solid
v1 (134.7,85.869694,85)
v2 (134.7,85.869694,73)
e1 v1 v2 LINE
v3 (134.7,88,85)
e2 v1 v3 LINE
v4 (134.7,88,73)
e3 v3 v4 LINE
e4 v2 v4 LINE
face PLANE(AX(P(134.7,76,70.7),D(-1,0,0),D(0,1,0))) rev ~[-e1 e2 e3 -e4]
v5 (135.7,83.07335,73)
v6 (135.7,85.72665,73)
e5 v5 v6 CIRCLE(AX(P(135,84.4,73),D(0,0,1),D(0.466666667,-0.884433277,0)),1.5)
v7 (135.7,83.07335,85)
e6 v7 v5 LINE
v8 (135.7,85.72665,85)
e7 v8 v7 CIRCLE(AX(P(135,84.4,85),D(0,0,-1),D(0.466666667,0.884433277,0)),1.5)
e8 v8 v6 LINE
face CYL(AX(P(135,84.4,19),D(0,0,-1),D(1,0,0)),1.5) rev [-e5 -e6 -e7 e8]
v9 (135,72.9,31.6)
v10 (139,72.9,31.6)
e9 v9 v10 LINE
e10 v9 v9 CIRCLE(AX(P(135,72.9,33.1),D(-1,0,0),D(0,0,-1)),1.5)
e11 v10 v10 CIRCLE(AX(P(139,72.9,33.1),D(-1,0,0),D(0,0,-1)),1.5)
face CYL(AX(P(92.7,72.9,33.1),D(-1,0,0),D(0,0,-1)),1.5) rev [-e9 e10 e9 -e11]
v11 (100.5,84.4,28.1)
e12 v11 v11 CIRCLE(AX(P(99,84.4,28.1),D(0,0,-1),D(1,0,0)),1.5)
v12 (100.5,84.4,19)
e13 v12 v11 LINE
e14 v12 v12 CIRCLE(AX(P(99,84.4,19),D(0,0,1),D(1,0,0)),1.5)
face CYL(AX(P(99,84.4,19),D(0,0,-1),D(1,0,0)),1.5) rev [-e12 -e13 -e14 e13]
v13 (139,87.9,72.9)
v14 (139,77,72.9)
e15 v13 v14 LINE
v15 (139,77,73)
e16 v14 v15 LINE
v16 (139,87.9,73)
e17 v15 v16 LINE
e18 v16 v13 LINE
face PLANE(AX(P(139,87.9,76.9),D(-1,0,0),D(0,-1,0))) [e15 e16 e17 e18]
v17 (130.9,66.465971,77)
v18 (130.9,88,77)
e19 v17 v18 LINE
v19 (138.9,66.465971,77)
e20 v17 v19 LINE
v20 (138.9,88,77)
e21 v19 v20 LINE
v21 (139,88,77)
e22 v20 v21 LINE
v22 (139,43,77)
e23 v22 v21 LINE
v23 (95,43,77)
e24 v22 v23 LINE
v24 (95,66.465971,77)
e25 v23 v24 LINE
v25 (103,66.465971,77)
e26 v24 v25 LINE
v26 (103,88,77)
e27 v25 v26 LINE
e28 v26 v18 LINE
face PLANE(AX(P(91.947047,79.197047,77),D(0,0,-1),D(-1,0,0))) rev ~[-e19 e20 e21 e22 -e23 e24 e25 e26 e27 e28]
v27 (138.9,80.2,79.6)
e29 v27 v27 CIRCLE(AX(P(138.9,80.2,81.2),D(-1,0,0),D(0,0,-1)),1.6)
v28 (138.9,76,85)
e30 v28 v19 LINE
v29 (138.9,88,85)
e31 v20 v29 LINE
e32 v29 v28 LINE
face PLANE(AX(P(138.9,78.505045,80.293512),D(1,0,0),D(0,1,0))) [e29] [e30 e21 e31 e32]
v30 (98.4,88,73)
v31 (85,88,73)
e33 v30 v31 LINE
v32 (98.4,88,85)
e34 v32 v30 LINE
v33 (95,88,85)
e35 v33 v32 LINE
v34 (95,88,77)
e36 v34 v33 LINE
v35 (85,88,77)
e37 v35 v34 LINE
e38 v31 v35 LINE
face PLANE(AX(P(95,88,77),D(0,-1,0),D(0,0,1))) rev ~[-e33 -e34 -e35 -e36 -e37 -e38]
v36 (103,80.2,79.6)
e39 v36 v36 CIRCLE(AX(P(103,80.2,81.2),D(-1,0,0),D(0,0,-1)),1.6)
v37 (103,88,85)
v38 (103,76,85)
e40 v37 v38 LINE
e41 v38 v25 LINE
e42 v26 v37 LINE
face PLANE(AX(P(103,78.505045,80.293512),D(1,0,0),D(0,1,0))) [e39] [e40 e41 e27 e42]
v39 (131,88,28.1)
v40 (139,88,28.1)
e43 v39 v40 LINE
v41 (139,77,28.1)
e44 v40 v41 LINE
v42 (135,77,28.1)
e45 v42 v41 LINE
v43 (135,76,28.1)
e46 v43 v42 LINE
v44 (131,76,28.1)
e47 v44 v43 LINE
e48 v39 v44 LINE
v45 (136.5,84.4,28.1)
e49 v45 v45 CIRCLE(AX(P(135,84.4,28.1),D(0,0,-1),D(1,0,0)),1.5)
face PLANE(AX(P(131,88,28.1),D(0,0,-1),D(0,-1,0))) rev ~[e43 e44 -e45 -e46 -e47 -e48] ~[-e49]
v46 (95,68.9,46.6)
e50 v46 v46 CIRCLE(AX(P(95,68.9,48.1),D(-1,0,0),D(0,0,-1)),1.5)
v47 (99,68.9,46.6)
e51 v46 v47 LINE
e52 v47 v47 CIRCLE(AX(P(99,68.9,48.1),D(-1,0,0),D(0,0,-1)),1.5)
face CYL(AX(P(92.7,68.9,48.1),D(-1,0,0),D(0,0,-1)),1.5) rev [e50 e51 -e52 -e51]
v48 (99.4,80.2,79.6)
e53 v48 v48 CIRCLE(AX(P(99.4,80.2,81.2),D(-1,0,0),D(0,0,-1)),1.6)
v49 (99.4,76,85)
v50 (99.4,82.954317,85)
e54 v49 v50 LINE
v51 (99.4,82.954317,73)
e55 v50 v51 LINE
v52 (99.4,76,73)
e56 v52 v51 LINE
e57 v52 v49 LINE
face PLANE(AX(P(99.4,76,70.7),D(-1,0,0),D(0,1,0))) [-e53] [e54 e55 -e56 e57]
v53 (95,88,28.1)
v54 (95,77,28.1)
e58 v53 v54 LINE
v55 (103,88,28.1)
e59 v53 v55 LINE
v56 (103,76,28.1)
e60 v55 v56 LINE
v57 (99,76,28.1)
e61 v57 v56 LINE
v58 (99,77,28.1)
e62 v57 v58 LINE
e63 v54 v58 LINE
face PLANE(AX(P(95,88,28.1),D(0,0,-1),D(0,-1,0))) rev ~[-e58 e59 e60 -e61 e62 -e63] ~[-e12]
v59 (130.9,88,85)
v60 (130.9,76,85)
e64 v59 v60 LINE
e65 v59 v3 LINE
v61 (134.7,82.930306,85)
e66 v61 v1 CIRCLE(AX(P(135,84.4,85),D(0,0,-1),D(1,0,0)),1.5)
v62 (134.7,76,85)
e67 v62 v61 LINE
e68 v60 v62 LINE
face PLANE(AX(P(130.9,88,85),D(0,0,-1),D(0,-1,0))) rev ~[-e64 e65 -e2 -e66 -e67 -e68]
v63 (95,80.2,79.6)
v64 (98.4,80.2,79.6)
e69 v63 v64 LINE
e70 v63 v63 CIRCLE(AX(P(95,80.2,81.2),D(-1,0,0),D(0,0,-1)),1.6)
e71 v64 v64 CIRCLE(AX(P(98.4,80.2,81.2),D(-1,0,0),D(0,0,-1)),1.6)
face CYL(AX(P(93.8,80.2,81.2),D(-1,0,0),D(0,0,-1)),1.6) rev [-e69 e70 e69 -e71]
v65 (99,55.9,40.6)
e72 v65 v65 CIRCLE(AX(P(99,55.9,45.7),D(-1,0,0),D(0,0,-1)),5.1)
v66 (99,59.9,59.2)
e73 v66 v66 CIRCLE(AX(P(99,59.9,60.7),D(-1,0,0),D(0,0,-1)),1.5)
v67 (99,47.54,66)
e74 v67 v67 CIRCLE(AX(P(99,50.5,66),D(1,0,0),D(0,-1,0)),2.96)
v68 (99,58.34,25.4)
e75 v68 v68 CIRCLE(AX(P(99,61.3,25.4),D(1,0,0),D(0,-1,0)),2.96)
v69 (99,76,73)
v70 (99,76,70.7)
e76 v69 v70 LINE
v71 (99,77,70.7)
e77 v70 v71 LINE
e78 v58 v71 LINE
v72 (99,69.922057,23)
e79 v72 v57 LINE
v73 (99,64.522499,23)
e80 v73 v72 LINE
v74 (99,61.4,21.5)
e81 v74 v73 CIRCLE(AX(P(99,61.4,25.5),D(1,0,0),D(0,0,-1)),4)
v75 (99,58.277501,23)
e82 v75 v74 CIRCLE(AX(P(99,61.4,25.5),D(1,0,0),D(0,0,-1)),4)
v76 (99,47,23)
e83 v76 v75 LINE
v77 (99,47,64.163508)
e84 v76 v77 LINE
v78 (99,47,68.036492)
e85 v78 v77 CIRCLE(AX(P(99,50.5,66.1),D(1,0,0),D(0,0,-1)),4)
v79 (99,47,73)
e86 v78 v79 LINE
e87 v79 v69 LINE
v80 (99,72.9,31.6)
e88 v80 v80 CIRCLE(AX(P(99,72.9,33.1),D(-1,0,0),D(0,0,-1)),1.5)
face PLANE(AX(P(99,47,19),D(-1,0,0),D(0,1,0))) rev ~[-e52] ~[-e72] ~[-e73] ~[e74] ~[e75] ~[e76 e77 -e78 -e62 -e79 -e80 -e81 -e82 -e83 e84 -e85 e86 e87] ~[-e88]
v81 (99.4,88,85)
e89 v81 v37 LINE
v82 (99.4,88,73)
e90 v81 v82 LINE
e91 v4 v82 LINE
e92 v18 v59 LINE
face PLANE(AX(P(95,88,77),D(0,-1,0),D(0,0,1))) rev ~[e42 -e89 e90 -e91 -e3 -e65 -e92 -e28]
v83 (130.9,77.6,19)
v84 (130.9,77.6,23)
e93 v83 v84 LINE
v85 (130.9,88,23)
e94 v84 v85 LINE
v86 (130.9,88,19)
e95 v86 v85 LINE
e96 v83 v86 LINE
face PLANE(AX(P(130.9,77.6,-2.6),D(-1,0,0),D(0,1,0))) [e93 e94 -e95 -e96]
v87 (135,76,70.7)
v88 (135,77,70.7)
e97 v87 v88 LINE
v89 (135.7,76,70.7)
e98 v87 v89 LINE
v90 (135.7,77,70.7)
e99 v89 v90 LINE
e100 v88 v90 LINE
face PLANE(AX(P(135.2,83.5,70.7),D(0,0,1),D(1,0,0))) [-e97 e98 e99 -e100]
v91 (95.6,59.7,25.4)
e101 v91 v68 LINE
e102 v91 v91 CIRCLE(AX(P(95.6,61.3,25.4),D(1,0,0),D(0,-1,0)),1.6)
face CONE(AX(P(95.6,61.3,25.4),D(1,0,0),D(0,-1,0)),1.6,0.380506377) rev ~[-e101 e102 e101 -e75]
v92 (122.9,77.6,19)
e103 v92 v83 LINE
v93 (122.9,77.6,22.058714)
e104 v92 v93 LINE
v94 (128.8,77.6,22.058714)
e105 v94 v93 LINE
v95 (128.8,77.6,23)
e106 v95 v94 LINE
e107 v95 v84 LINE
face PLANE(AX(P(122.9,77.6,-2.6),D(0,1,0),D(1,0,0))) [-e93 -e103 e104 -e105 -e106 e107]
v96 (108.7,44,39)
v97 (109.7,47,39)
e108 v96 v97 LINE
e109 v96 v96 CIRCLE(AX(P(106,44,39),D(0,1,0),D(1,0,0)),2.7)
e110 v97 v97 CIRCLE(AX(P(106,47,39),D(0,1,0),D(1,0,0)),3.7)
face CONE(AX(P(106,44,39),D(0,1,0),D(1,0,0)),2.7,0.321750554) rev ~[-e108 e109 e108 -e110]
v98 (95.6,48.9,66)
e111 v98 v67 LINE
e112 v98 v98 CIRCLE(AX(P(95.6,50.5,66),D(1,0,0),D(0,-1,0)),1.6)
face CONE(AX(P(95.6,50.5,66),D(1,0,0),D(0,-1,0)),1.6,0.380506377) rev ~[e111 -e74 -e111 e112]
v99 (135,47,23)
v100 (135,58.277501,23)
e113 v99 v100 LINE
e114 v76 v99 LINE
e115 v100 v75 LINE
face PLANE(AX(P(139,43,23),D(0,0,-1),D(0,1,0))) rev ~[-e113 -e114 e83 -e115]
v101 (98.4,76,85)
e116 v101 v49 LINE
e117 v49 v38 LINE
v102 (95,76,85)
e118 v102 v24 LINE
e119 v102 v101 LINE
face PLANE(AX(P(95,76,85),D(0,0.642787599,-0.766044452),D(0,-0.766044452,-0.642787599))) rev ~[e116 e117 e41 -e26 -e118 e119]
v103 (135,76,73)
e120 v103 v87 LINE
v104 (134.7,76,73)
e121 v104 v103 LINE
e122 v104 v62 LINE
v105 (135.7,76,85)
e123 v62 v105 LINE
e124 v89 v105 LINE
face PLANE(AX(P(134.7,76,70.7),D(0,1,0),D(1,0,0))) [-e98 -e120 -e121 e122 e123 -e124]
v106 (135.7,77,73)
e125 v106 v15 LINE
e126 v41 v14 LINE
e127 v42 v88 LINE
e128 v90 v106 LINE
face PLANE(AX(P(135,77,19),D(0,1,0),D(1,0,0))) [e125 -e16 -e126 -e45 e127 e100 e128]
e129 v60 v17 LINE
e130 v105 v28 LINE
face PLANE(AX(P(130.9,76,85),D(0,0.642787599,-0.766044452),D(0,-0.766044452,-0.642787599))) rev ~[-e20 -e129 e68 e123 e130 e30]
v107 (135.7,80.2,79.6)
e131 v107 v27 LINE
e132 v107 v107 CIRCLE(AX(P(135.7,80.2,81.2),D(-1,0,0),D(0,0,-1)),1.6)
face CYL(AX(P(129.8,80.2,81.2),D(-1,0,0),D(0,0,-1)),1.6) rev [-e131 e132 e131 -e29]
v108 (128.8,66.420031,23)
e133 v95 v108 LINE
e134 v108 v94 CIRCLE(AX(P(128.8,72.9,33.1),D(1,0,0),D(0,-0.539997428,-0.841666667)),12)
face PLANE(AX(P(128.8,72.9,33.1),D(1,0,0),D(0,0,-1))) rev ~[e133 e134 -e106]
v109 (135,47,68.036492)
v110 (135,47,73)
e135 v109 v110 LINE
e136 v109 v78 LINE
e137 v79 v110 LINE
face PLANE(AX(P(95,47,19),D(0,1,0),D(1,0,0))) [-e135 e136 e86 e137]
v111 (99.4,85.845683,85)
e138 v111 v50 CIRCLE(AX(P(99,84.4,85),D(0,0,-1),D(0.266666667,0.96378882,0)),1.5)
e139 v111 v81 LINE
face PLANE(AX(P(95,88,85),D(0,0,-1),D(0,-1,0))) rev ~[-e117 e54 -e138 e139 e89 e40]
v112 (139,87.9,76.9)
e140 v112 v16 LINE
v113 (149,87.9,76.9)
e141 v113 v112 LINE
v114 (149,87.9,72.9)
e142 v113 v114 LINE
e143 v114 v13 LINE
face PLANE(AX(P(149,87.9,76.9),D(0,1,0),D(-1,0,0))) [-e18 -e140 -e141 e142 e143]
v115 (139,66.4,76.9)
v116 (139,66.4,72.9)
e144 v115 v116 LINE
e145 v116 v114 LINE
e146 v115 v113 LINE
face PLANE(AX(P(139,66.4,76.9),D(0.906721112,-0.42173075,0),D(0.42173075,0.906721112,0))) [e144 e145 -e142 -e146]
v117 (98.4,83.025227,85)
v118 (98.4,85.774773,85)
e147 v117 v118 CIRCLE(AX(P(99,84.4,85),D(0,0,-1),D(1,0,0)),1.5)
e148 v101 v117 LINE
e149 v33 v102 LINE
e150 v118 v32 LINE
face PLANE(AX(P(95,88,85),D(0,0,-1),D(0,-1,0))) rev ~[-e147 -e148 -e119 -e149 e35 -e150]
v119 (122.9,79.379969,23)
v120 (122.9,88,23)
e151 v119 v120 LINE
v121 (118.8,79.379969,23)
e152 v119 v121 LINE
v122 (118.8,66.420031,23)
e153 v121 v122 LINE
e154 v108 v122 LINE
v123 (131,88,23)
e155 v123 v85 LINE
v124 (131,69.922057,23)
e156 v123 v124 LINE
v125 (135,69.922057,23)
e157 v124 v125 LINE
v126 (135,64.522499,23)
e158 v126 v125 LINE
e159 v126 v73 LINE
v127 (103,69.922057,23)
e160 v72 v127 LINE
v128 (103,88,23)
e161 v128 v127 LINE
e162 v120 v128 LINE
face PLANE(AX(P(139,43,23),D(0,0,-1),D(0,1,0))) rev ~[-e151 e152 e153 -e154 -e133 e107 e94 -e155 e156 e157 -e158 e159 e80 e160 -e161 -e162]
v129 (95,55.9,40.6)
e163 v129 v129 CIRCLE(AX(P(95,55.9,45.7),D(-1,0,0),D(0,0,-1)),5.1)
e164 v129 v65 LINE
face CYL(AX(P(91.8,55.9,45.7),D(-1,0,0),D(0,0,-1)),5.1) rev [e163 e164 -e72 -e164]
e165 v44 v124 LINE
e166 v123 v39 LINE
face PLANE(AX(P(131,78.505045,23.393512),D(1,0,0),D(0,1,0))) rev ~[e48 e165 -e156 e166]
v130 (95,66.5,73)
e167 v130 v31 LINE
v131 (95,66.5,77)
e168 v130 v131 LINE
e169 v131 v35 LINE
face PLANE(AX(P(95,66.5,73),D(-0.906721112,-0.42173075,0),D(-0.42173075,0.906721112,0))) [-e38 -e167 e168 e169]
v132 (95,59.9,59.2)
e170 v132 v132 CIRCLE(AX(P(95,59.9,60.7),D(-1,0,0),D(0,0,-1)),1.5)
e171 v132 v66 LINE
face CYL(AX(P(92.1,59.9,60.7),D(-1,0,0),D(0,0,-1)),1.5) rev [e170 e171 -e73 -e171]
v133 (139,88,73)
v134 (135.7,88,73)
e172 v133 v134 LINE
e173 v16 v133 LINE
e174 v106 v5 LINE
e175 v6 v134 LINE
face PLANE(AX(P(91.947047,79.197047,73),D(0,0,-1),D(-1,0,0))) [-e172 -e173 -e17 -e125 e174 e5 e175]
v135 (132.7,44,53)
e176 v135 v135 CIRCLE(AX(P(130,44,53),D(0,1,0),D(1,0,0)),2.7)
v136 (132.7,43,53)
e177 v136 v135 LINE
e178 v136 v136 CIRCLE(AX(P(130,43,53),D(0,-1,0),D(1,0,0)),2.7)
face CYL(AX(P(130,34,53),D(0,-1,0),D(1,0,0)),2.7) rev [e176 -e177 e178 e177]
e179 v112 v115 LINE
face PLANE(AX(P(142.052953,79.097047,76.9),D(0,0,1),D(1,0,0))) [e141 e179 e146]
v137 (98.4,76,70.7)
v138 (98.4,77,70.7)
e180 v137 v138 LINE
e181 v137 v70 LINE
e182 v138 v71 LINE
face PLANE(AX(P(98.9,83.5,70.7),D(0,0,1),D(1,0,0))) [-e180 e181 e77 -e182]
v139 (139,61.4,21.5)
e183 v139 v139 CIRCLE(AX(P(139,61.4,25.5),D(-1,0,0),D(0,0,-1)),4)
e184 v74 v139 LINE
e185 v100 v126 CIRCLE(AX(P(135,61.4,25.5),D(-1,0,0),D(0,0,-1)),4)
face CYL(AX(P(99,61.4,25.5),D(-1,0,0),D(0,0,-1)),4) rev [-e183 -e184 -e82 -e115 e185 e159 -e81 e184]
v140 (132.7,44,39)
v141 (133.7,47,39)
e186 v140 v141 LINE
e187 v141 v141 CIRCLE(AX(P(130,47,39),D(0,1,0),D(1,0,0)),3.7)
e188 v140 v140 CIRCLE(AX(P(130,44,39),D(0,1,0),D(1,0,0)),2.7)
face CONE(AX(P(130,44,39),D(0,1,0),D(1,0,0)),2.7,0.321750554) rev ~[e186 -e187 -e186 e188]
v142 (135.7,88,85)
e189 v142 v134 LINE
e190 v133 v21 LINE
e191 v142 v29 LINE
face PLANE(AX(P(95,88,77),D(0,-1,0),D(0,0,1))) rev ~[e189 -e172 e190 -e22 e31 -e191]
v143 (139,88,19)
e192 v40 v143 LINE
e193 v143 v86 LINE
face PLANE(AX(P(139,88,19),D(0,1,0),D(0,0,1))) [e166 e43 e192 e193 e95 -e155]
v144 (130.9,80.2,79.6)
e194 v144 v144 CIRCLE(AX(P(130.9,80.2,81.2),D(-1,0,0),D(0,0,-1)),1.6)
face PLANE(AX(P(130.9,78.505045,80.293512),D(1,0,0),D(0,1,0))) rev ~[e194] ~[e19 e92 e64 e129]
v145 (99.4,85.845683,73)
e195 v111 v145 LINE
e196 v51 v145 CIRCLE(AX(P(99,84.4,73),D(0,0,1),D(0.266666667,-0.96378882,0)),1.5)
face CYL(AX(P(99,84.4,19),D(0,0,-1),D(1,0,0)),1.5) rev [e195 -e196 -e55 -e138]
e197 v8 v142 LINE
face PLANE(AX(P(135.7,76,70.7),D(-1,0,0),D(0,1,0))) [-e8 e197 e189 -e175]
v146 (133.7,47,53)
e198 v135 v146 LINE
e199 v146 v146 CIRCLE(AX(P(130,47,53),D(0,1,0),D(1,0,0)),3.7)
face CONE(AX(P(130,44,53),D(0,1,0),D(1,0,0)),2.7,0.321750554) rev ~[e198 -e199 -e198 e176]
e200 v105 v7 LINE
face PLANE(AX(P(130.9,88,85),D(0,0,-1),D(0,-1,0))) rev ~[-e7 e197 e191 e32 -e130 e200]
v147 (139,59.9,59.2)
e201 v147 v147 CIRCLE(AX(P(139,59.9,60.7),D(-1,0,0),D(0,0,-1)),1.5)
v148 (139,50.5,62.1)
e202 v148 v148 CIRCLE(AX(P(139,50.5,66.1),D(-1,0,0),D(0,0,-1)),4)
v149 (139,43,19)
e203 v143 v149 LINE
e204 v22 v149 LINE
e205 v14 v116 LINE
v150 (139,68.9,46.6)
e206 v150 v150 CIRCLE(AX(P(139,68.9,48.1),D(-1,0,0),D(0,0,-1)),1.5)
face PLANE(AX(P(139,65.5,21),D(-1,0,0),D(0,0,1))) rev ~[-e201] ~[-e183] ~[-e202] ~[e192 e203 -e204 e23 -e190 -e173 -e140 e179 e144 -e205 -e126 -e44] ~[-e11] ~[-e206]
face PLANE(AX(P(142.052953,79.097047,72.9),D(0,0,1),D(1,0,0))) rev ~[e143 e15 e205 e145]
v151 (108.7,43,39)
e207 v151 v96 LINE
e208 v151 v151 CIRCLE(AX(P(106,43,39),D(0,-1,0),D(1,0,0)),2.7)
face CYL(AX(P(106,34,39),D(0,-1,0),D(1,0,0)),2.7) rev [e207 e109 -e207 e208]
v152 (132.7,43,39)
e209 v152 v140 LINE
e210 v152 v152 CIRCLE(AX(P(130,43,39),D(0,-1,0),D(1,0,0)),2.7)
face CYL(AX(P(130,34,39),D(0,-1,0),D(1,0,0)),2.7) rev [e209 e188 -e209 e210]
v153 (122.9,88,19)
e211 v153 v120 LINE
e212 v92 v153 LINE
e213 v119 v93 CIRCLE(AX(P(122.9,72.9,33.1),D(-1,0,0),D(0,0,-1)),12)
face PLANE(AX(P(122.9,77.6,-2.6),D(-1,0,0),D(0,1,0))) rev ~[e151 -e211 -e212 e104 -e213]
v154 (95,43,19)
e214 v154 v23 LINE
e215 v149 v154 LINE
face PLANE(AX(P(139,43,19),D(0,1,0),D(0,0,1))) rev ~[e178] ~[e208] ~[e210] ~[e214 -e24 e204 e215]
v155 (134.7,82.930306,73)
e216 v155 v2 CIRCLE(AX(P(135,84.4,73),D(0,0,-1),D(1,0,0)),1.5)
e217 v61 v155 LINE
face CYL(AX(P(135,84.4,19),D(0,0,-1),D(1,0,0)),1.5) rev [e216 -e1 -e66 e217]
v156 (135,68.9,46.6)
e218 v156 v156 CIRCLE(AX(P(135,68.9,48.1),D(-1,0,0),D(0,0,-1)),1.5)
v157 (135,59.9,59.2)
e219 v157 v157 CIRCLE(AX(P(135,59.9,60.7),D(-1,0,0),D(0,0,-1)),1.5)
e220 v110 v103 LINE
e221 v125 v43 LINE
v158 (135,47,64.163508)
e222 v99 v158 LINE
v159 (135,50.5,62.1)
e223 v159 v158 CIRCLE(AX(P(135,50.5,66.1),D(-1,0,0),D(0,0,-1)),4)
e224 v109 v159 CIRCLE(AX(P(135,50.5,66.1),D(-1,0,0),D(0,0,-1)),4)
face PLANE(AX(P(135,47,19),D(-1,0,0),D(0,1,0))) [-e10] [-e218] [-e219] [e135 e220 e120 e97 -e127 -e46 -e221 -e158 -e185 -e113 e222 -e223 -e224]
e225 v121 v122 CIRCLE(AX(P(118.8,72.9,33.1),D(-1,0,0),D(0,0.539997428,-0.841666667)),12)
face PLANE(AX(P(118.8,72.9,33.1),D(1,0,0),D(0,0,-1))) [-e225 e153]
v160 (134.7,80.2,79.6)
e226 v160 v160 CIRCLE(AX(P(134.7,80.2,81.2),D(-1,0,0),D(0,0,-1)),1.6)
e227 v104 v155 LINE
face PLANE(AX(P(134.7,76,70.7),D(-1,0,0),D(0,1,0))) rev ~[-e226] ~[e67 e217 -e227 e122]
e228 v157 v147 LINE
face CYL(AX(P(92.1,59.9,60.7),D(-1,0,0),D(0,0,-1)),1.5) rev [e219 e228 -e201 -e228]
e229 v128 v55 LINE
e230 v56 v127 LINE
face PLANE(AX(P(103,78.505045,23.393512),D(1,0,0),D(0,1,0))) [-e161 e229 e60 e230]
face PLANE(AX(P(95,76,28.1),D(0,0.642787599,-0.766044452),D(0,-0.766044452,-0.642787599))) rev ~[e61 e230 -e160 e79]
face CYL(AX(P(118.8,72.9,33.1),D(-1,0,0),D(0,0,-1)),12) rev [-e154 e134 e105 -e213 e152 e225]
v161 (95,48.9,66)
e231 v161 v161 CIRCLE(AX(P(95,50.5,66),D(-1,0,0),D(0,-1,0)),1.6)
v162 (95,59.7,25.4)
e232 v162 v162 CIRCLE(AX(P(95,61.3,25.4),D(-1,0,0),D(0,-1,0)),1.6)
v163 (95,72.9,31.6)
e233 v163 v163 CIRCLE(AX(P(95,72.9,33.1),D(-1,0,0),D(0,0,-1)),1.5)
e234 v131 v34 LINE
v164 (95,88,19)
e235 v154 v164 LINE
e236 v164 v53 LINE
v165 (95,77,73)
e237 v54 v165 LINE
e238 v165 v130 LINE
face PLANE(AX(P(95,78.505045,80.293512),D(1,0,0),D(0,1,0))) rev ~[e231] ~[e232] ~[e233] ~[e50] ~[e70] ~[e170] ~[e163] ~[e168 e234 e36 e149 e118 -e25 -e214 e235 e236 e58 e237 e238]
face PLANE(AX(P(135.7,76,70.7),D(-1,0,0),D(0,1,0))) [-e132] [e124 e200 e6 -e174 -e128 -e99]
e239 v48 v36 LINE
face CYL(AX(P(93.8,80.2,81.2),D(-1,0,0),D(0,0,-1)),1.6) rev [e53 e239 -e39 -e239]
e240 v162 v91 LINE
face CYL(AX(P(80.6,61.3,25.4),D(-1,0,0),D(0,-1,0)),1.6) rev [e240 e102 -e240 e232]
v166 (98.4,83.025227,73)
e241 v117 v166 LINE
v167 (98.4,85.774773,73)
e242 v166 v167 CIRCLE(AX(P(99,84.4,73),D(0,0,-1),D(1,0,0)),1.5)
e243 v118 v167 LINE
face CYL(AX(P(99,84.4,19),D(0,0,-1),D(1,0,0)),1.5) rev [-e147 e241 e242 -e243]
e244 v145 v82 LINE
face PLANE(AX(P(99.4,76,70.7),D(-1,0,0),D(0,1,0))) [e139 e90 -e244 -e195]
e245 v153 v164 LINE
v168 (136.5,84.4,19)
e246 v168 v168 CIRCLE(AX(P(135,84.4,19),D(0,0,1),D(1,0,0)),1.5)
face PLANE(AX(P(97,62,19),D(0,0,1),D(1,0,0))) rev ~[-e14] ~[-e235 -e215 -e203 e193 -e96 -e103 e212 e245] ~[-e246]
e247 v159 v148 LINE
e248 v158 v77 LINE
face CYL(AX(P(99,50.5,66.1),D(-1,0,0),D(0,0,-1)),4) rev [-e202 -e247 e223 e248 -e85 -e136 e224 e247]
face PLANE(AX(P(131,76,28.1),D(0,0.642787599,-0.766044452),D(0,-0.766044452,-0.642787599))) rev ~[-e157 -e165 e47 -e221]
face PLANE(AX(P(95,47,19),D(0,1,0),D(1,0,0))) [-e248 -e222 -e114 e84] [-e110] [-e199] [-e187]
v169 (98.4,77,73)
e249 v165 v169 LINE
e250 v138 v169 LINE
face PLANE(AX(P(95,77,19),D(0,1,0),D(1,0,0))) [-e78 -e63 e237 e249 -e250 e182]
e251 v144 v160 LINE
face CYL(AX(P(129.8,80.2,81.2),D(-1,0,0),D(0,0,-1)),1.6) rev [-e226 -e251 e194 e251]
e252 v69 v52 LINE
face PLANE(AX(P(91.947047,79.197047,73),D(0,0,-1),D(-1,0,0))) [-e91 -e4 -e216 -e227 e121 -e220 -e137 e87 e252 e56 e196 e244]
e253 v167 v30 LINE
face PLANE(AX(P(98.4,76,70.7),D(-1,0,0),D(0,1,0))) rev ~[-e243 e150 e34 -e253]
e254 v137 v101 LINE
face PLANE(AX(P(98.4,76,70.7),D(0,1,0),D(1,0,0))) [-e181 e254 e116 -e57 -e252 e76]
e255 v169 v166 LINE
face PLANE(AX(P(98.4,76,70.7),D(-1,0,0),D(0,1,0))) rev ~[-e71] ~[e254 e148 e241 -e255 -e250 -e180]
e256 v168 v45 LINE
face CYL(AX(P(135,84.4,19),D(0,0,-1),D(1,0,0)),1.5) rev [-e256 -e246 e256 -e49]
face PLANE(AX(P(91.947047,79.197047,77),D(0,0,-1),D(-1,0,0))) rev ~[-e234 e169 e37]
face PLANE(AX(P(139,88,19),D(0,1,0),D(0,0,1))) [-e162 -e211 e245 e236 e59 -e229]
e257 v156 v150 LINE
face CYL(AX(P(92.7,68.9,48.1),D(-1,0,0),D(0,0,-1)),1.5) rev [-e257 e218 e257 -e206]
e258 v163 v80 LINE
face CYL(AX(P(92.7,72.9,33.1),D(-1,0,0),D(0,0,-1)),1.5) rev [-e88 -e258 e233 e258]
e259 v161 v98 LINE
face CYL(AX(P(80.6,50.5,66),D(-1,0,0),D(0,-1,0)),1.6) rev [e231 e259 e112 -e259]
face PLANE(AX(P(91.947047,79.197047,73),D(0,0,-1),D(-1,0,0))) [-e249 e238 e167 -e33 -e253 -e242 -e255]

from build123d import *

# Parameters (mm, degrees)
CYLINDER144_R              = 1.6
CYLINDER144_DEPTH          = 15
FUSION079_ROLL_ANGLE       = -90
FUSION079_PLACEMENT_ANGLE  = -90
CYLINDER156_R              = 5.1
CYLINDER156_DEPTH          = 10
CYLINDER145_R              = 1.6
CYLINDER145_DEPTH          = 15
FUSION080_ROLL_ANGLE       = -90
FUSION080_PLACEMENT_ANGLE  = -90
CYLINDER147_R              = 4
CYLINDER147_DEPTH          = 44
CYLINDER152_R              = 1.5
CYLINDER152_DEPTH          = 55
CYLINDER165_R              = 1.5
CYLINDER165_DEPTH          = 55
CYLINDER160_R              = 1.5
CYLINDER160_DEPTH          = 55
CYLINDER166_R              = 4
CYLINDER166_DEPTH          = 44
BOX073_W                   = 1
BOX073_H                   = 15
BOX073_DEPTH               = 19
CYLINDER139_R              = 1.5
CYLINDER139_DEPTH          = 90
BOX072_W                   = 1
BOX072_H                   = 15
BOX072_DEPTH               = 19
CYLINDER138_R              = 1.5
CYLINDER138_DEPTH          = 90
CYLINDER140_R              = 1.6
CYLINDER140_DEPTH          = 10
EXTRUDE055_DEPTH           = 8
CYLINDER141_R              = 1.6
CYLINDER141_DEPTH          = 10
EXTRUDE056_DEPTH           = 8
BOX070_W                   = 4
BOX070_H                   = 45
BOX070_DEPTH               = 44
BOX069_W                   = 4
BOX069_H                   = 30
BOX069_DEPTH               = 54
BOX068_W                   = 4
BOX068_H                   = 30
BOX068_DEPTH               = 54
CYLINDER155_R              = 2.7
CYLINDER155_DEPTH          = 10
FUSION086_PLACEMENT_ANGLE  = 90
CYLINDER154_R              = 2.7
CYLINDER154_DEPTH          = 10
FUSION085_PLACEMENT_ANGLE  = 90
CYLINDER153_R              = 2.7
CYLINDER153_DEPTH          = 10
FUSION084_PLACEMENT_ANGLE  = 90
BOX067_W                   = 44
BOX067_H                   = 4
BOX067_DEPTH               = 54
CYLINDER164_R              = 12
CYLINDER164_DEPTH          = 10
BOX074_W                   = 8
BOX074_H                   = 12
BOX074_DEPTH               = 71
EXTRUDE057_DEPTH           = 8
EXTRUDE058_DEPTH           = 8
BOX071_W                   = 4
BOX071_H                   = 45
BOX071_DEPTH               = 44
EXTRUDE065_DEPTH           = 4
EXTRUDE066_DEPTH           = 4
EXTRUDE066_PLACEMENT_ANGLE = 180


with BuildPart() as cylinder144:
    # Cylinder144 → Cylinder144 (new body)
    with BuildSketch(Plane.XY):
        Circle(CYLINDER144_R)
    extrude(amount=CYLINDER144_DEPTH)


with BuildPart() as fusion079:
    # Cone015 → Cone015 (revolve)
    with BuildSketch(Plane(origin=(0, 0, 15), x_dir=(1, 0, 0), z_dir=(0, -1, 0))):
        Polygon((0, 0), (1.6, 0), (3, 3.5), (0, 3.5), align=None)
    revolve(axis=Axis((0, 0, 15), (0, 0, 1)))

    # Fusion079: union Cylinder144
    add(cylinder144.part)


with BuildPart() as fusion079_1:
    # Fusion079 roll: moved
    add(fusion079.part.rotate(Axis((0, 0, 0), (1, 0, 0)), FUSION079_ROLL_ANGLE))


with BuildPart() as fusion079_2:
    # Fusion079 placement: moved
    add(fusion079_1.part.moved(Location((80.6, 50.5, 66))).rotate(Axis((80.6, 50.5, 66), (0, 0, 1)), FUSION079_PLACEMENT_ANGLE))


with BuildPart() as cylinder156:
    # Cylinder156 → Cylinder156 (new body)
    with BuildSketch(Plane(origin=(91.8, 55.9, 45.7), x_dir=(0, 0, -1), z_dir=(1, 0, 0))):
        Circle(CYLINDER156_R)
    extrude(amount=CYLINDER156_DEPTH)


with BuildPart() as cylinder145:
    # Cylinder145 → Cylinder145 (new body)
    with BuildSketch(Plane.XY):
        Circle(CYLINDER145_R)
    extrude(amount=CYLINDER145_DEPTH)


with BuildPart() as fusion080:
    # Cone016 → Cone016 (revolve)
    with BuildSketch(Plane(origin=(0, 0, 15), x_dir=(1, 0, 0), z_dir=(0, -1, 0))):
        Polygon((0, 0), (1.6, 0), (3, 3.5), (0, 3.5), align=None)
    revolve(axis=Axis((0, 0, 15), (0, 0, 1)))

    # Fusion080: union Cylinder145
    add(cylinder145.part)


with BuildPart() as fusion080_1:
    # Fusion080 roll: moved
    add(fusion080.part.rotate(Axis((0, 0, 0), (1, 0, 0)), FUSION080_ROLL_ANGLE))


with BuildPart() as fusion080_2:
    # Fusion080 placement: moved
    add(fusion080_1.part.moved(Location((80.6, 61.3, 25.4))).rotate(Axis((80.6, 61.3, 25.4), (0, 0, 1)), FUSION080_PLACEMENT_ANGLE))


with BuildPart() as cylinder147:
    # Cylinder147 → Cylinder147 (new body)
    with BuildSketch(Plane(origin=(99, 61.4, 25.5), x_dir=(0, 0, -1), z_dir=(1, 0, 0))):
        Circle(CYLINDER147_R)
    extrude(amount=CYLINDER147_DEPTH)


with BuildPart() as cylinder152:
    # Cylinder152 → Cylinder152 (new body)
    with BuildSketch(Plane(origin=(92.7, 72.9, 33.1), x_dir=(0, 0, -1), z_dir=(1, 0, 0))):
        Circle(CYLINDER152_R)
    extrude(amount=CYLINDER152_DEPTH)


with BuildPart() as cylinder165:
    # Cylinder165 → Cylinder165 (new body)
    with BuildSketch(Plane(origin=(92.7, 68.9, 48.1), x_dir=(0, 0, -1), z_dir=(1, 0, 0))):
        Circle(CYLINDER165_R)
    extrude(amount=CYLINDER165_DEPTH)


with BuildPart() as cylinder160:
    # Cylinder160 → Cylinder160 (new body)
    with BuildSketch(Plane(origin=(92.1, 59.9, 60.7), x_dir=(0, 0, -1), z_dir=(1, 0, 0))):
        Circle(CYLINDER160_R)
    extrude(amount=CYLINDER160_DEPTH)


with BuildPart() as cylinder166:
    # Cylinder166 → Cylinder166 (new body)
    with BuildSketch(Plane(origin=(99, 50.5, 66.1), x_dir=(0, 0, -1), z_dir=(1, 0, 0))):
        Circle(CYLINDER166_R)
    extrude(amount=CYLINDER166_DEPTH)


with BuildPart() as box073:
    # Box073 → Box073 (new body)
    with BuildSketch(Plane(origin=(98.4, 76, 70.7), x_dir=(1, 0, 0), z_dir=(0, 0, 1))):
        with Locations((0.5, 7.5)):
            Rectangle(BOX073_W, BOX073_H)
    extrude(amount=BOX073_DEPTH)


with BuildPart() as cylinder139:
    # Cylinder139 → Cylinder139 (new body)
    with BuildSketch(Plane(origin=(99, 84.4, 19), x_dir=(1, 0, 0), z_dir=(0, 0, 1))):
        Circle(CYLINDER139_R)
    extrude(amount=CYLINDER139_DEPTH)


with BuildPart() as box072:
    # Box072 → Box072 (new body)
    with BuildSketch(Plane(origin=(134.7, 76, 70.7), x_dir=(1, 0, 0), z_dir=(0, 0, 1))):
        with Locations((0.5, 7.5)):
            Rectangle(BOX072_W, BOX072_H)
    extrude(amount=BOX072_DEPTH)


with BuildPart() as cylinder138:
    # Cylinder138 → Cylinder138 (new body)
    with BuildSketch(Plane(origin=(135, 84.4, 19), x_dir=(1, 0, 0), z_dir=(0, 0, 1))):
        Circle(CYLINDER138_R)
    extrude(amount=CYLINDER138_DEPTH)


with BuildPart() as cylinder140:
    # Cylinder140 → Cylinder140 (new body)
    with BuildSketch(Plane(origin=(129.8, 75.2, 81.2), x_dir=(0, 0, -1), z_dir=(1, 0, 0))):
        Circle(CYLINDER140_R)
    extrude(amount=CYLINDER140_DEPTH)


with BuildPart() as cut143:
    # Sketch045 → Extrude055 (new body)
    with BuildSketch(Plane.YZ):
        Polygon((83, 77), (83, 85), (71, 85), (61.465971, 77), align=None)
    extrude(amount=EXTRUDE055_DEPTH)


with BuildPart() as cut143_1:
    # Extrude055 placement: moved
    add(cut143.part.moved(Location((130.9, 0, 0))))

    # Cut143: cut Cylinder140
    add(cylinder140.part, mode=Mode.SUBTRACT)


with BuildPart() as cut143_2:
    # Cut143 placement: moved
    add(cut143_1.part.moved(Location((0, 5, 0))))


with BuildPart() as cylinder141:
    # Cylinder141 → Cylinder141 (new body)
    with BuildSketch(Plane(origin=(93.8, 75.2, 81.2), x_dir=(0, 0, -1), z_dir=(1, 0, 0))):
        Circle(CYLINDER141_R)
    extrude(amount=CYLINDER141_DEPTH)


with BuildPart() as cut142:
    # Sketch046 → Extrude056 (new body)
    with BuildSketch(Plane.YZ):
        Polygon((83, 77), (83, 85), (71, 85), (61.465971, 77), align=None)
    extrude(amount=EXTRUDE056_DEPTH)


with BuildPart() as cut142_1:
    # Extrude056 placement: moved
    add(cut142.part.moved(Location((95, 0, 0))))

    # Cut142: cut Cylinder141
    add(cylinder141.part, mode=Mode.SUBTRACT)


with BuildPart() as cut142_2:
    # Cut142 placement: moved
    add(cut142_1.part.moved(Location((0, 5, 0))))


with BuildPart() as box070:
    # Box070 → Box070 (new body)
    with BuildSketch(Plane(origin=(139, 43, 73), x_dir=(0, 0, 1), z_dir=(-1, 0, 0))):
        with Locations((2, 22.5)):
            Rectangle(BOX070_W, BOX070_H)
    extrude(amount=BOX070_DEPTH)


with BuildPart() as box069:
    # Box069 → Box069 (new body)
    with BuildSketch(Plane(origin=(135, 47, 19), x_dir=(1, 0, 0), z_dir=(0, 0, 1))):
        with Locations((2, 15)):
            Rectangle(BOX069_W, BOX069_H)
    extrude(amount=BOX069_DEPTH)


with BuildPart() as box068:
    # Box068 → Box068 (new body)
    with BuildSketch(Plane(origin=(95, 47, 19), x_dir=(1, 0, 0), z_dir=(0, 0, 1))):
        with Locations((2, 15)):
            Rectangle(BOX068_W, BOX068_H)
    extrude(amount=BOX068_DEPTH)


with BuildPart() as cone018:
    # Cone018 → Cone018 (revolve)
    with BuildSketch(Plane(origin=(0, 0, 10), x_dir=(1, 0, 0), z_dir=(0, -1, 0))):
        Polygon((0, 0), (2.7, 0), (3.7, 3), (0, 3), align=None)
    revolve(axis=Axis((0, 0, 10), (0, 0, 1)))


with BuildPart() as fusion086:
    # Cylinder155 → Cylinder155 (new body)
    with BuildSketch(Plane.XY):
        Circle(CYLINDER155_R)
    extrude(amount=CYLINDER155_DEPTH)

    # Fusion086: union Cone018
    add(cone018.part)


with BuildPart() as fusion086_1:
    # Fusion086 placement: moved
    add(fusion086.part.moved(Location((106, 34, 39))).rotate(Axis((106, 34, 39), (-1, 0, 0)), FUSION086_PLACEMENT_ANGLE))


with BuildPart() as cone017:
    # Cone017 → Cone017 (revolve)
    with BuildSketch(Plane(origin=(0, 0, 10), x_dir=(1, 0, 0), z_dir=(0, -1, 0))):
        Polygon((0, 0), (2.7, 0), (3.7, 3), (0, 3), align=None)
    revolve(axis=Axis((0, 0, 10), (0, 0, 1)))


with BuildPart() as fusion085:
    # Cylinder154 → Cylinder154 (new body)
    with BuildSketch(Plane.XY):
        Circle(CYLINDER154_R)
    extrude(amount=CYLINDER154_DEPTH)

    # Fusion085: union Cone017
    add(cone017.part)


with BuildPart() as fusion085_1:
    # Fusion085 placement: moved
    add(fusion085.part.moved(Location((130, 34, 39))).rotate(Axis((130, 34, 39), (-1, 0, 0)), FUSION085_PLACEMENT_ANGLE))


with BuildPart() as cone:
    # Cone → Cone (revolve)
    with BuildSketch(Plane(origin=(0, 0, 10), x_dir=(1, 0, 0), z_dir=(0, -1, 0))):
        Polygon((0, 0), (2.7, 0), (3.7, 3), (0, 3), align=None)
    revolve(axis=Axis((0, 0, 10), (0, 0, 1)))


with BuildPart() as fusion084:
    # Cylinder153 → Cylinder153 (new body)
    with BuildSketch(Plane.XY):
        Circle(CYLINDER153_R)
    extrude(amount=CYLINDER153_DEPTH)

    # Fusion084: union Cone
    add(cone.part)


with BuildPart() as fusion084_1:
    # Fusion084 placement: moved
    add(fusion084.part.moved(Location((130, 34, 53))).rotate(Axis((130, 34, 53), (-1, 0, 0)), FUSION084_PLACEMENT_ANGLE))


with BuildPart() as cut178:
    # Box067 → Box067 (new body)
    with BuildSketch(Plane(origin=(95, 43, 19), x_dir=(1, 0, 0), z_dir=(0, 0, 1))):
        with Locations((22, 2)):
            Rectangle(BOX067_W, BOX067_H)
    extrude(amount=BOX067_DEPTH)

    # Cut176: cut Fusion084
    add(fusion084_1.part, mode=Mode.SUBTRACT)

    # Cut177: cut Fusion085
    add(fusion085_1.part, mode=Mode.SUBTRACT)

    # Cut178: cut Fusion086
    add(fusion086_1.part, mode=Mode.SUBTRACT)


with BuildPart() as cylinder164:
    # Cylinder164 → Cylinder164 (new body)
    with BuildSketch(Plane(origin=(118.8, 72.9, 33.1), x_dir=(0, 0, -1), z_dir=(1, 0, 0))):
        Circle(CYLINDER164_R)
    extrude(amount=CYLINDER164_DEPTH)


with BuildPart() as box074:
    # Box074 → Box074 (new body)
    with BuildSketch(Plane(origin=(122.9, 77.6, -2.6), x_dir=(1, 0, 0), z_dir=(0, 0, 1))):
        with Locations((4, 6)):
            Rectangle(BOX074_W, BOX074_H)
    extrude(amount=BOX074_DEPTH)


with BuildPart() as extrude057:
    # Sketch047 → Extrude057 (new body)
    with BuildSketch(Plane.YZ):
        Polygon((83, 77), (83, 85), (71, 85), (61.465971, 77), align=None)
    extrude(amount=EXTRUDE057_DEPTH)


with BuildPart() as extrude057_1:
    # Extrude057 placement: moved
    add(extrude057.part.moved(Location((131, 5, -56.9))))


with BuildPart() as extrude058:
    # Sketch048 → Extrude058 (new body)
    with BuildSketch(Plane.YZ):
        Polygon((83, 77), (83, 85), (71, 85), (61.465971, 77), align=None)
    extrude(amount=EXTRUDE058_DEPTH)


with BuildPart() as extrude058_1:
    # Extrude058 placement: moved
    add(extrude058.part.moved(Location((95, 5, -56.9))))


with BuildPart() as fusion096:
    # Box071 → Box071 (new body)
    with BuildSketch(Plane(origin=(139, 43, 19), x_dir=(0, 0, 1), z_dir=(-1, 0, 0))):
        with Locations((2, 22.5)):
            Rectangle(BOX071_W, BOX071_H)
    extrude(amount=BOX071_DEPTH)

    # Fusion089: union Extrude057, Extrude058
    add(extrude057_1.part)
    add(extrude058_1.part)

    # Cut179: cut Box074
    add(box074.part, mode=Mode.SUBTRACT)

    # Cut188: cut Cylinder164
    add(cylinder164.part, mode=Mode.SUBTRACT)

    # Fusion096: union Box070, Box069, Box068, Cut178
    add(box070.part)
    add(box069.part)
    add(box068.part)
    add(cut178.part)


with BuildPart() as extrude065:
    # Sketch053 → Extrude065 (new body)
    with BuildSketch(Plane.XY):
        Polygon((95, 66.5), (85, 88), (95, 88), align=None)
    extrude(amount=EXTRUDE065_DEPTH)


with BuildPart() as extrude065_1:
    # Extrude065 placement: moved
    add(extrude065.part.moved(Location((0, 0, 73))))


with BuildPart() as cut200:
    # Sketch054 → Extrude066 (new body)
    with BuildSketch(Plane.XY):
        Polygon((95, 66.5), (85, 88), (95, 88), align=None)
    extrude(amount=EXTRUDE066_DEPTH)


with BuildPart() as cut200_1:
    # Extrude066 placement: moved
    add(cut200.part.moved(Location((234, -0.1, 76.9))).rotate(Axis((234, -0.1, 76.9), (0, 1, 0)), EXTRUDE066_PLACEMENT_ANGLE))

    # Fusion097: union Fusion096, Extrude065
    add(fusion096.part)
    add(extrude065_1.part)

    # Fusion098: union Cut143, Cut142
    add(cut143_2.part)
    add(cut142_2.part)

    # Cut189: cut Cylinder138
    add(cylinder138.part, mode=Mode.SUBTRACT)

    # Cut190: cut Box072
    add(box072.part, mode=Mode.SUBTRACT)

    # Cut191: cut Cylinder139
    add(cylinder139.part, mode=Mode.SUBTRACT)

    # Cut192: cut Box073
    add(box073.part, mode=Mode.SUBTRACT)

    # Cut193: cut Cylinder166
    add(cylinder166.part, mode=Mode.SUBTRACT)

    # Cut194: cut Cylinder160
    add(cylinder160.part, mode=Mode.SUBTRACT)

    # Cut195: cut Cylinder165
    add(cylinder165.part, mode=Mode.SUBTRACT)

    # Cut196: cut Cylinder152
    add(cylinder152.part, mode=Mode.SUBTRACT)

    # Cut197: cut Cylinder147
    add(cylinder147.part, mode=Mode.SUBTRACT)

    # Cut198: cut Fusion080
    add(fusion080_2.part, mode=Mode.SUBTRACT)

    # Cut199: cut Cylinder156
    add(cylinder156.part, mode=Mode.SUBTRACT)

    # Cut200: cut Fusion079
    add(fusion079_2.part, mode=Mode.SUBTRACT)


solid = cut200_1.part
